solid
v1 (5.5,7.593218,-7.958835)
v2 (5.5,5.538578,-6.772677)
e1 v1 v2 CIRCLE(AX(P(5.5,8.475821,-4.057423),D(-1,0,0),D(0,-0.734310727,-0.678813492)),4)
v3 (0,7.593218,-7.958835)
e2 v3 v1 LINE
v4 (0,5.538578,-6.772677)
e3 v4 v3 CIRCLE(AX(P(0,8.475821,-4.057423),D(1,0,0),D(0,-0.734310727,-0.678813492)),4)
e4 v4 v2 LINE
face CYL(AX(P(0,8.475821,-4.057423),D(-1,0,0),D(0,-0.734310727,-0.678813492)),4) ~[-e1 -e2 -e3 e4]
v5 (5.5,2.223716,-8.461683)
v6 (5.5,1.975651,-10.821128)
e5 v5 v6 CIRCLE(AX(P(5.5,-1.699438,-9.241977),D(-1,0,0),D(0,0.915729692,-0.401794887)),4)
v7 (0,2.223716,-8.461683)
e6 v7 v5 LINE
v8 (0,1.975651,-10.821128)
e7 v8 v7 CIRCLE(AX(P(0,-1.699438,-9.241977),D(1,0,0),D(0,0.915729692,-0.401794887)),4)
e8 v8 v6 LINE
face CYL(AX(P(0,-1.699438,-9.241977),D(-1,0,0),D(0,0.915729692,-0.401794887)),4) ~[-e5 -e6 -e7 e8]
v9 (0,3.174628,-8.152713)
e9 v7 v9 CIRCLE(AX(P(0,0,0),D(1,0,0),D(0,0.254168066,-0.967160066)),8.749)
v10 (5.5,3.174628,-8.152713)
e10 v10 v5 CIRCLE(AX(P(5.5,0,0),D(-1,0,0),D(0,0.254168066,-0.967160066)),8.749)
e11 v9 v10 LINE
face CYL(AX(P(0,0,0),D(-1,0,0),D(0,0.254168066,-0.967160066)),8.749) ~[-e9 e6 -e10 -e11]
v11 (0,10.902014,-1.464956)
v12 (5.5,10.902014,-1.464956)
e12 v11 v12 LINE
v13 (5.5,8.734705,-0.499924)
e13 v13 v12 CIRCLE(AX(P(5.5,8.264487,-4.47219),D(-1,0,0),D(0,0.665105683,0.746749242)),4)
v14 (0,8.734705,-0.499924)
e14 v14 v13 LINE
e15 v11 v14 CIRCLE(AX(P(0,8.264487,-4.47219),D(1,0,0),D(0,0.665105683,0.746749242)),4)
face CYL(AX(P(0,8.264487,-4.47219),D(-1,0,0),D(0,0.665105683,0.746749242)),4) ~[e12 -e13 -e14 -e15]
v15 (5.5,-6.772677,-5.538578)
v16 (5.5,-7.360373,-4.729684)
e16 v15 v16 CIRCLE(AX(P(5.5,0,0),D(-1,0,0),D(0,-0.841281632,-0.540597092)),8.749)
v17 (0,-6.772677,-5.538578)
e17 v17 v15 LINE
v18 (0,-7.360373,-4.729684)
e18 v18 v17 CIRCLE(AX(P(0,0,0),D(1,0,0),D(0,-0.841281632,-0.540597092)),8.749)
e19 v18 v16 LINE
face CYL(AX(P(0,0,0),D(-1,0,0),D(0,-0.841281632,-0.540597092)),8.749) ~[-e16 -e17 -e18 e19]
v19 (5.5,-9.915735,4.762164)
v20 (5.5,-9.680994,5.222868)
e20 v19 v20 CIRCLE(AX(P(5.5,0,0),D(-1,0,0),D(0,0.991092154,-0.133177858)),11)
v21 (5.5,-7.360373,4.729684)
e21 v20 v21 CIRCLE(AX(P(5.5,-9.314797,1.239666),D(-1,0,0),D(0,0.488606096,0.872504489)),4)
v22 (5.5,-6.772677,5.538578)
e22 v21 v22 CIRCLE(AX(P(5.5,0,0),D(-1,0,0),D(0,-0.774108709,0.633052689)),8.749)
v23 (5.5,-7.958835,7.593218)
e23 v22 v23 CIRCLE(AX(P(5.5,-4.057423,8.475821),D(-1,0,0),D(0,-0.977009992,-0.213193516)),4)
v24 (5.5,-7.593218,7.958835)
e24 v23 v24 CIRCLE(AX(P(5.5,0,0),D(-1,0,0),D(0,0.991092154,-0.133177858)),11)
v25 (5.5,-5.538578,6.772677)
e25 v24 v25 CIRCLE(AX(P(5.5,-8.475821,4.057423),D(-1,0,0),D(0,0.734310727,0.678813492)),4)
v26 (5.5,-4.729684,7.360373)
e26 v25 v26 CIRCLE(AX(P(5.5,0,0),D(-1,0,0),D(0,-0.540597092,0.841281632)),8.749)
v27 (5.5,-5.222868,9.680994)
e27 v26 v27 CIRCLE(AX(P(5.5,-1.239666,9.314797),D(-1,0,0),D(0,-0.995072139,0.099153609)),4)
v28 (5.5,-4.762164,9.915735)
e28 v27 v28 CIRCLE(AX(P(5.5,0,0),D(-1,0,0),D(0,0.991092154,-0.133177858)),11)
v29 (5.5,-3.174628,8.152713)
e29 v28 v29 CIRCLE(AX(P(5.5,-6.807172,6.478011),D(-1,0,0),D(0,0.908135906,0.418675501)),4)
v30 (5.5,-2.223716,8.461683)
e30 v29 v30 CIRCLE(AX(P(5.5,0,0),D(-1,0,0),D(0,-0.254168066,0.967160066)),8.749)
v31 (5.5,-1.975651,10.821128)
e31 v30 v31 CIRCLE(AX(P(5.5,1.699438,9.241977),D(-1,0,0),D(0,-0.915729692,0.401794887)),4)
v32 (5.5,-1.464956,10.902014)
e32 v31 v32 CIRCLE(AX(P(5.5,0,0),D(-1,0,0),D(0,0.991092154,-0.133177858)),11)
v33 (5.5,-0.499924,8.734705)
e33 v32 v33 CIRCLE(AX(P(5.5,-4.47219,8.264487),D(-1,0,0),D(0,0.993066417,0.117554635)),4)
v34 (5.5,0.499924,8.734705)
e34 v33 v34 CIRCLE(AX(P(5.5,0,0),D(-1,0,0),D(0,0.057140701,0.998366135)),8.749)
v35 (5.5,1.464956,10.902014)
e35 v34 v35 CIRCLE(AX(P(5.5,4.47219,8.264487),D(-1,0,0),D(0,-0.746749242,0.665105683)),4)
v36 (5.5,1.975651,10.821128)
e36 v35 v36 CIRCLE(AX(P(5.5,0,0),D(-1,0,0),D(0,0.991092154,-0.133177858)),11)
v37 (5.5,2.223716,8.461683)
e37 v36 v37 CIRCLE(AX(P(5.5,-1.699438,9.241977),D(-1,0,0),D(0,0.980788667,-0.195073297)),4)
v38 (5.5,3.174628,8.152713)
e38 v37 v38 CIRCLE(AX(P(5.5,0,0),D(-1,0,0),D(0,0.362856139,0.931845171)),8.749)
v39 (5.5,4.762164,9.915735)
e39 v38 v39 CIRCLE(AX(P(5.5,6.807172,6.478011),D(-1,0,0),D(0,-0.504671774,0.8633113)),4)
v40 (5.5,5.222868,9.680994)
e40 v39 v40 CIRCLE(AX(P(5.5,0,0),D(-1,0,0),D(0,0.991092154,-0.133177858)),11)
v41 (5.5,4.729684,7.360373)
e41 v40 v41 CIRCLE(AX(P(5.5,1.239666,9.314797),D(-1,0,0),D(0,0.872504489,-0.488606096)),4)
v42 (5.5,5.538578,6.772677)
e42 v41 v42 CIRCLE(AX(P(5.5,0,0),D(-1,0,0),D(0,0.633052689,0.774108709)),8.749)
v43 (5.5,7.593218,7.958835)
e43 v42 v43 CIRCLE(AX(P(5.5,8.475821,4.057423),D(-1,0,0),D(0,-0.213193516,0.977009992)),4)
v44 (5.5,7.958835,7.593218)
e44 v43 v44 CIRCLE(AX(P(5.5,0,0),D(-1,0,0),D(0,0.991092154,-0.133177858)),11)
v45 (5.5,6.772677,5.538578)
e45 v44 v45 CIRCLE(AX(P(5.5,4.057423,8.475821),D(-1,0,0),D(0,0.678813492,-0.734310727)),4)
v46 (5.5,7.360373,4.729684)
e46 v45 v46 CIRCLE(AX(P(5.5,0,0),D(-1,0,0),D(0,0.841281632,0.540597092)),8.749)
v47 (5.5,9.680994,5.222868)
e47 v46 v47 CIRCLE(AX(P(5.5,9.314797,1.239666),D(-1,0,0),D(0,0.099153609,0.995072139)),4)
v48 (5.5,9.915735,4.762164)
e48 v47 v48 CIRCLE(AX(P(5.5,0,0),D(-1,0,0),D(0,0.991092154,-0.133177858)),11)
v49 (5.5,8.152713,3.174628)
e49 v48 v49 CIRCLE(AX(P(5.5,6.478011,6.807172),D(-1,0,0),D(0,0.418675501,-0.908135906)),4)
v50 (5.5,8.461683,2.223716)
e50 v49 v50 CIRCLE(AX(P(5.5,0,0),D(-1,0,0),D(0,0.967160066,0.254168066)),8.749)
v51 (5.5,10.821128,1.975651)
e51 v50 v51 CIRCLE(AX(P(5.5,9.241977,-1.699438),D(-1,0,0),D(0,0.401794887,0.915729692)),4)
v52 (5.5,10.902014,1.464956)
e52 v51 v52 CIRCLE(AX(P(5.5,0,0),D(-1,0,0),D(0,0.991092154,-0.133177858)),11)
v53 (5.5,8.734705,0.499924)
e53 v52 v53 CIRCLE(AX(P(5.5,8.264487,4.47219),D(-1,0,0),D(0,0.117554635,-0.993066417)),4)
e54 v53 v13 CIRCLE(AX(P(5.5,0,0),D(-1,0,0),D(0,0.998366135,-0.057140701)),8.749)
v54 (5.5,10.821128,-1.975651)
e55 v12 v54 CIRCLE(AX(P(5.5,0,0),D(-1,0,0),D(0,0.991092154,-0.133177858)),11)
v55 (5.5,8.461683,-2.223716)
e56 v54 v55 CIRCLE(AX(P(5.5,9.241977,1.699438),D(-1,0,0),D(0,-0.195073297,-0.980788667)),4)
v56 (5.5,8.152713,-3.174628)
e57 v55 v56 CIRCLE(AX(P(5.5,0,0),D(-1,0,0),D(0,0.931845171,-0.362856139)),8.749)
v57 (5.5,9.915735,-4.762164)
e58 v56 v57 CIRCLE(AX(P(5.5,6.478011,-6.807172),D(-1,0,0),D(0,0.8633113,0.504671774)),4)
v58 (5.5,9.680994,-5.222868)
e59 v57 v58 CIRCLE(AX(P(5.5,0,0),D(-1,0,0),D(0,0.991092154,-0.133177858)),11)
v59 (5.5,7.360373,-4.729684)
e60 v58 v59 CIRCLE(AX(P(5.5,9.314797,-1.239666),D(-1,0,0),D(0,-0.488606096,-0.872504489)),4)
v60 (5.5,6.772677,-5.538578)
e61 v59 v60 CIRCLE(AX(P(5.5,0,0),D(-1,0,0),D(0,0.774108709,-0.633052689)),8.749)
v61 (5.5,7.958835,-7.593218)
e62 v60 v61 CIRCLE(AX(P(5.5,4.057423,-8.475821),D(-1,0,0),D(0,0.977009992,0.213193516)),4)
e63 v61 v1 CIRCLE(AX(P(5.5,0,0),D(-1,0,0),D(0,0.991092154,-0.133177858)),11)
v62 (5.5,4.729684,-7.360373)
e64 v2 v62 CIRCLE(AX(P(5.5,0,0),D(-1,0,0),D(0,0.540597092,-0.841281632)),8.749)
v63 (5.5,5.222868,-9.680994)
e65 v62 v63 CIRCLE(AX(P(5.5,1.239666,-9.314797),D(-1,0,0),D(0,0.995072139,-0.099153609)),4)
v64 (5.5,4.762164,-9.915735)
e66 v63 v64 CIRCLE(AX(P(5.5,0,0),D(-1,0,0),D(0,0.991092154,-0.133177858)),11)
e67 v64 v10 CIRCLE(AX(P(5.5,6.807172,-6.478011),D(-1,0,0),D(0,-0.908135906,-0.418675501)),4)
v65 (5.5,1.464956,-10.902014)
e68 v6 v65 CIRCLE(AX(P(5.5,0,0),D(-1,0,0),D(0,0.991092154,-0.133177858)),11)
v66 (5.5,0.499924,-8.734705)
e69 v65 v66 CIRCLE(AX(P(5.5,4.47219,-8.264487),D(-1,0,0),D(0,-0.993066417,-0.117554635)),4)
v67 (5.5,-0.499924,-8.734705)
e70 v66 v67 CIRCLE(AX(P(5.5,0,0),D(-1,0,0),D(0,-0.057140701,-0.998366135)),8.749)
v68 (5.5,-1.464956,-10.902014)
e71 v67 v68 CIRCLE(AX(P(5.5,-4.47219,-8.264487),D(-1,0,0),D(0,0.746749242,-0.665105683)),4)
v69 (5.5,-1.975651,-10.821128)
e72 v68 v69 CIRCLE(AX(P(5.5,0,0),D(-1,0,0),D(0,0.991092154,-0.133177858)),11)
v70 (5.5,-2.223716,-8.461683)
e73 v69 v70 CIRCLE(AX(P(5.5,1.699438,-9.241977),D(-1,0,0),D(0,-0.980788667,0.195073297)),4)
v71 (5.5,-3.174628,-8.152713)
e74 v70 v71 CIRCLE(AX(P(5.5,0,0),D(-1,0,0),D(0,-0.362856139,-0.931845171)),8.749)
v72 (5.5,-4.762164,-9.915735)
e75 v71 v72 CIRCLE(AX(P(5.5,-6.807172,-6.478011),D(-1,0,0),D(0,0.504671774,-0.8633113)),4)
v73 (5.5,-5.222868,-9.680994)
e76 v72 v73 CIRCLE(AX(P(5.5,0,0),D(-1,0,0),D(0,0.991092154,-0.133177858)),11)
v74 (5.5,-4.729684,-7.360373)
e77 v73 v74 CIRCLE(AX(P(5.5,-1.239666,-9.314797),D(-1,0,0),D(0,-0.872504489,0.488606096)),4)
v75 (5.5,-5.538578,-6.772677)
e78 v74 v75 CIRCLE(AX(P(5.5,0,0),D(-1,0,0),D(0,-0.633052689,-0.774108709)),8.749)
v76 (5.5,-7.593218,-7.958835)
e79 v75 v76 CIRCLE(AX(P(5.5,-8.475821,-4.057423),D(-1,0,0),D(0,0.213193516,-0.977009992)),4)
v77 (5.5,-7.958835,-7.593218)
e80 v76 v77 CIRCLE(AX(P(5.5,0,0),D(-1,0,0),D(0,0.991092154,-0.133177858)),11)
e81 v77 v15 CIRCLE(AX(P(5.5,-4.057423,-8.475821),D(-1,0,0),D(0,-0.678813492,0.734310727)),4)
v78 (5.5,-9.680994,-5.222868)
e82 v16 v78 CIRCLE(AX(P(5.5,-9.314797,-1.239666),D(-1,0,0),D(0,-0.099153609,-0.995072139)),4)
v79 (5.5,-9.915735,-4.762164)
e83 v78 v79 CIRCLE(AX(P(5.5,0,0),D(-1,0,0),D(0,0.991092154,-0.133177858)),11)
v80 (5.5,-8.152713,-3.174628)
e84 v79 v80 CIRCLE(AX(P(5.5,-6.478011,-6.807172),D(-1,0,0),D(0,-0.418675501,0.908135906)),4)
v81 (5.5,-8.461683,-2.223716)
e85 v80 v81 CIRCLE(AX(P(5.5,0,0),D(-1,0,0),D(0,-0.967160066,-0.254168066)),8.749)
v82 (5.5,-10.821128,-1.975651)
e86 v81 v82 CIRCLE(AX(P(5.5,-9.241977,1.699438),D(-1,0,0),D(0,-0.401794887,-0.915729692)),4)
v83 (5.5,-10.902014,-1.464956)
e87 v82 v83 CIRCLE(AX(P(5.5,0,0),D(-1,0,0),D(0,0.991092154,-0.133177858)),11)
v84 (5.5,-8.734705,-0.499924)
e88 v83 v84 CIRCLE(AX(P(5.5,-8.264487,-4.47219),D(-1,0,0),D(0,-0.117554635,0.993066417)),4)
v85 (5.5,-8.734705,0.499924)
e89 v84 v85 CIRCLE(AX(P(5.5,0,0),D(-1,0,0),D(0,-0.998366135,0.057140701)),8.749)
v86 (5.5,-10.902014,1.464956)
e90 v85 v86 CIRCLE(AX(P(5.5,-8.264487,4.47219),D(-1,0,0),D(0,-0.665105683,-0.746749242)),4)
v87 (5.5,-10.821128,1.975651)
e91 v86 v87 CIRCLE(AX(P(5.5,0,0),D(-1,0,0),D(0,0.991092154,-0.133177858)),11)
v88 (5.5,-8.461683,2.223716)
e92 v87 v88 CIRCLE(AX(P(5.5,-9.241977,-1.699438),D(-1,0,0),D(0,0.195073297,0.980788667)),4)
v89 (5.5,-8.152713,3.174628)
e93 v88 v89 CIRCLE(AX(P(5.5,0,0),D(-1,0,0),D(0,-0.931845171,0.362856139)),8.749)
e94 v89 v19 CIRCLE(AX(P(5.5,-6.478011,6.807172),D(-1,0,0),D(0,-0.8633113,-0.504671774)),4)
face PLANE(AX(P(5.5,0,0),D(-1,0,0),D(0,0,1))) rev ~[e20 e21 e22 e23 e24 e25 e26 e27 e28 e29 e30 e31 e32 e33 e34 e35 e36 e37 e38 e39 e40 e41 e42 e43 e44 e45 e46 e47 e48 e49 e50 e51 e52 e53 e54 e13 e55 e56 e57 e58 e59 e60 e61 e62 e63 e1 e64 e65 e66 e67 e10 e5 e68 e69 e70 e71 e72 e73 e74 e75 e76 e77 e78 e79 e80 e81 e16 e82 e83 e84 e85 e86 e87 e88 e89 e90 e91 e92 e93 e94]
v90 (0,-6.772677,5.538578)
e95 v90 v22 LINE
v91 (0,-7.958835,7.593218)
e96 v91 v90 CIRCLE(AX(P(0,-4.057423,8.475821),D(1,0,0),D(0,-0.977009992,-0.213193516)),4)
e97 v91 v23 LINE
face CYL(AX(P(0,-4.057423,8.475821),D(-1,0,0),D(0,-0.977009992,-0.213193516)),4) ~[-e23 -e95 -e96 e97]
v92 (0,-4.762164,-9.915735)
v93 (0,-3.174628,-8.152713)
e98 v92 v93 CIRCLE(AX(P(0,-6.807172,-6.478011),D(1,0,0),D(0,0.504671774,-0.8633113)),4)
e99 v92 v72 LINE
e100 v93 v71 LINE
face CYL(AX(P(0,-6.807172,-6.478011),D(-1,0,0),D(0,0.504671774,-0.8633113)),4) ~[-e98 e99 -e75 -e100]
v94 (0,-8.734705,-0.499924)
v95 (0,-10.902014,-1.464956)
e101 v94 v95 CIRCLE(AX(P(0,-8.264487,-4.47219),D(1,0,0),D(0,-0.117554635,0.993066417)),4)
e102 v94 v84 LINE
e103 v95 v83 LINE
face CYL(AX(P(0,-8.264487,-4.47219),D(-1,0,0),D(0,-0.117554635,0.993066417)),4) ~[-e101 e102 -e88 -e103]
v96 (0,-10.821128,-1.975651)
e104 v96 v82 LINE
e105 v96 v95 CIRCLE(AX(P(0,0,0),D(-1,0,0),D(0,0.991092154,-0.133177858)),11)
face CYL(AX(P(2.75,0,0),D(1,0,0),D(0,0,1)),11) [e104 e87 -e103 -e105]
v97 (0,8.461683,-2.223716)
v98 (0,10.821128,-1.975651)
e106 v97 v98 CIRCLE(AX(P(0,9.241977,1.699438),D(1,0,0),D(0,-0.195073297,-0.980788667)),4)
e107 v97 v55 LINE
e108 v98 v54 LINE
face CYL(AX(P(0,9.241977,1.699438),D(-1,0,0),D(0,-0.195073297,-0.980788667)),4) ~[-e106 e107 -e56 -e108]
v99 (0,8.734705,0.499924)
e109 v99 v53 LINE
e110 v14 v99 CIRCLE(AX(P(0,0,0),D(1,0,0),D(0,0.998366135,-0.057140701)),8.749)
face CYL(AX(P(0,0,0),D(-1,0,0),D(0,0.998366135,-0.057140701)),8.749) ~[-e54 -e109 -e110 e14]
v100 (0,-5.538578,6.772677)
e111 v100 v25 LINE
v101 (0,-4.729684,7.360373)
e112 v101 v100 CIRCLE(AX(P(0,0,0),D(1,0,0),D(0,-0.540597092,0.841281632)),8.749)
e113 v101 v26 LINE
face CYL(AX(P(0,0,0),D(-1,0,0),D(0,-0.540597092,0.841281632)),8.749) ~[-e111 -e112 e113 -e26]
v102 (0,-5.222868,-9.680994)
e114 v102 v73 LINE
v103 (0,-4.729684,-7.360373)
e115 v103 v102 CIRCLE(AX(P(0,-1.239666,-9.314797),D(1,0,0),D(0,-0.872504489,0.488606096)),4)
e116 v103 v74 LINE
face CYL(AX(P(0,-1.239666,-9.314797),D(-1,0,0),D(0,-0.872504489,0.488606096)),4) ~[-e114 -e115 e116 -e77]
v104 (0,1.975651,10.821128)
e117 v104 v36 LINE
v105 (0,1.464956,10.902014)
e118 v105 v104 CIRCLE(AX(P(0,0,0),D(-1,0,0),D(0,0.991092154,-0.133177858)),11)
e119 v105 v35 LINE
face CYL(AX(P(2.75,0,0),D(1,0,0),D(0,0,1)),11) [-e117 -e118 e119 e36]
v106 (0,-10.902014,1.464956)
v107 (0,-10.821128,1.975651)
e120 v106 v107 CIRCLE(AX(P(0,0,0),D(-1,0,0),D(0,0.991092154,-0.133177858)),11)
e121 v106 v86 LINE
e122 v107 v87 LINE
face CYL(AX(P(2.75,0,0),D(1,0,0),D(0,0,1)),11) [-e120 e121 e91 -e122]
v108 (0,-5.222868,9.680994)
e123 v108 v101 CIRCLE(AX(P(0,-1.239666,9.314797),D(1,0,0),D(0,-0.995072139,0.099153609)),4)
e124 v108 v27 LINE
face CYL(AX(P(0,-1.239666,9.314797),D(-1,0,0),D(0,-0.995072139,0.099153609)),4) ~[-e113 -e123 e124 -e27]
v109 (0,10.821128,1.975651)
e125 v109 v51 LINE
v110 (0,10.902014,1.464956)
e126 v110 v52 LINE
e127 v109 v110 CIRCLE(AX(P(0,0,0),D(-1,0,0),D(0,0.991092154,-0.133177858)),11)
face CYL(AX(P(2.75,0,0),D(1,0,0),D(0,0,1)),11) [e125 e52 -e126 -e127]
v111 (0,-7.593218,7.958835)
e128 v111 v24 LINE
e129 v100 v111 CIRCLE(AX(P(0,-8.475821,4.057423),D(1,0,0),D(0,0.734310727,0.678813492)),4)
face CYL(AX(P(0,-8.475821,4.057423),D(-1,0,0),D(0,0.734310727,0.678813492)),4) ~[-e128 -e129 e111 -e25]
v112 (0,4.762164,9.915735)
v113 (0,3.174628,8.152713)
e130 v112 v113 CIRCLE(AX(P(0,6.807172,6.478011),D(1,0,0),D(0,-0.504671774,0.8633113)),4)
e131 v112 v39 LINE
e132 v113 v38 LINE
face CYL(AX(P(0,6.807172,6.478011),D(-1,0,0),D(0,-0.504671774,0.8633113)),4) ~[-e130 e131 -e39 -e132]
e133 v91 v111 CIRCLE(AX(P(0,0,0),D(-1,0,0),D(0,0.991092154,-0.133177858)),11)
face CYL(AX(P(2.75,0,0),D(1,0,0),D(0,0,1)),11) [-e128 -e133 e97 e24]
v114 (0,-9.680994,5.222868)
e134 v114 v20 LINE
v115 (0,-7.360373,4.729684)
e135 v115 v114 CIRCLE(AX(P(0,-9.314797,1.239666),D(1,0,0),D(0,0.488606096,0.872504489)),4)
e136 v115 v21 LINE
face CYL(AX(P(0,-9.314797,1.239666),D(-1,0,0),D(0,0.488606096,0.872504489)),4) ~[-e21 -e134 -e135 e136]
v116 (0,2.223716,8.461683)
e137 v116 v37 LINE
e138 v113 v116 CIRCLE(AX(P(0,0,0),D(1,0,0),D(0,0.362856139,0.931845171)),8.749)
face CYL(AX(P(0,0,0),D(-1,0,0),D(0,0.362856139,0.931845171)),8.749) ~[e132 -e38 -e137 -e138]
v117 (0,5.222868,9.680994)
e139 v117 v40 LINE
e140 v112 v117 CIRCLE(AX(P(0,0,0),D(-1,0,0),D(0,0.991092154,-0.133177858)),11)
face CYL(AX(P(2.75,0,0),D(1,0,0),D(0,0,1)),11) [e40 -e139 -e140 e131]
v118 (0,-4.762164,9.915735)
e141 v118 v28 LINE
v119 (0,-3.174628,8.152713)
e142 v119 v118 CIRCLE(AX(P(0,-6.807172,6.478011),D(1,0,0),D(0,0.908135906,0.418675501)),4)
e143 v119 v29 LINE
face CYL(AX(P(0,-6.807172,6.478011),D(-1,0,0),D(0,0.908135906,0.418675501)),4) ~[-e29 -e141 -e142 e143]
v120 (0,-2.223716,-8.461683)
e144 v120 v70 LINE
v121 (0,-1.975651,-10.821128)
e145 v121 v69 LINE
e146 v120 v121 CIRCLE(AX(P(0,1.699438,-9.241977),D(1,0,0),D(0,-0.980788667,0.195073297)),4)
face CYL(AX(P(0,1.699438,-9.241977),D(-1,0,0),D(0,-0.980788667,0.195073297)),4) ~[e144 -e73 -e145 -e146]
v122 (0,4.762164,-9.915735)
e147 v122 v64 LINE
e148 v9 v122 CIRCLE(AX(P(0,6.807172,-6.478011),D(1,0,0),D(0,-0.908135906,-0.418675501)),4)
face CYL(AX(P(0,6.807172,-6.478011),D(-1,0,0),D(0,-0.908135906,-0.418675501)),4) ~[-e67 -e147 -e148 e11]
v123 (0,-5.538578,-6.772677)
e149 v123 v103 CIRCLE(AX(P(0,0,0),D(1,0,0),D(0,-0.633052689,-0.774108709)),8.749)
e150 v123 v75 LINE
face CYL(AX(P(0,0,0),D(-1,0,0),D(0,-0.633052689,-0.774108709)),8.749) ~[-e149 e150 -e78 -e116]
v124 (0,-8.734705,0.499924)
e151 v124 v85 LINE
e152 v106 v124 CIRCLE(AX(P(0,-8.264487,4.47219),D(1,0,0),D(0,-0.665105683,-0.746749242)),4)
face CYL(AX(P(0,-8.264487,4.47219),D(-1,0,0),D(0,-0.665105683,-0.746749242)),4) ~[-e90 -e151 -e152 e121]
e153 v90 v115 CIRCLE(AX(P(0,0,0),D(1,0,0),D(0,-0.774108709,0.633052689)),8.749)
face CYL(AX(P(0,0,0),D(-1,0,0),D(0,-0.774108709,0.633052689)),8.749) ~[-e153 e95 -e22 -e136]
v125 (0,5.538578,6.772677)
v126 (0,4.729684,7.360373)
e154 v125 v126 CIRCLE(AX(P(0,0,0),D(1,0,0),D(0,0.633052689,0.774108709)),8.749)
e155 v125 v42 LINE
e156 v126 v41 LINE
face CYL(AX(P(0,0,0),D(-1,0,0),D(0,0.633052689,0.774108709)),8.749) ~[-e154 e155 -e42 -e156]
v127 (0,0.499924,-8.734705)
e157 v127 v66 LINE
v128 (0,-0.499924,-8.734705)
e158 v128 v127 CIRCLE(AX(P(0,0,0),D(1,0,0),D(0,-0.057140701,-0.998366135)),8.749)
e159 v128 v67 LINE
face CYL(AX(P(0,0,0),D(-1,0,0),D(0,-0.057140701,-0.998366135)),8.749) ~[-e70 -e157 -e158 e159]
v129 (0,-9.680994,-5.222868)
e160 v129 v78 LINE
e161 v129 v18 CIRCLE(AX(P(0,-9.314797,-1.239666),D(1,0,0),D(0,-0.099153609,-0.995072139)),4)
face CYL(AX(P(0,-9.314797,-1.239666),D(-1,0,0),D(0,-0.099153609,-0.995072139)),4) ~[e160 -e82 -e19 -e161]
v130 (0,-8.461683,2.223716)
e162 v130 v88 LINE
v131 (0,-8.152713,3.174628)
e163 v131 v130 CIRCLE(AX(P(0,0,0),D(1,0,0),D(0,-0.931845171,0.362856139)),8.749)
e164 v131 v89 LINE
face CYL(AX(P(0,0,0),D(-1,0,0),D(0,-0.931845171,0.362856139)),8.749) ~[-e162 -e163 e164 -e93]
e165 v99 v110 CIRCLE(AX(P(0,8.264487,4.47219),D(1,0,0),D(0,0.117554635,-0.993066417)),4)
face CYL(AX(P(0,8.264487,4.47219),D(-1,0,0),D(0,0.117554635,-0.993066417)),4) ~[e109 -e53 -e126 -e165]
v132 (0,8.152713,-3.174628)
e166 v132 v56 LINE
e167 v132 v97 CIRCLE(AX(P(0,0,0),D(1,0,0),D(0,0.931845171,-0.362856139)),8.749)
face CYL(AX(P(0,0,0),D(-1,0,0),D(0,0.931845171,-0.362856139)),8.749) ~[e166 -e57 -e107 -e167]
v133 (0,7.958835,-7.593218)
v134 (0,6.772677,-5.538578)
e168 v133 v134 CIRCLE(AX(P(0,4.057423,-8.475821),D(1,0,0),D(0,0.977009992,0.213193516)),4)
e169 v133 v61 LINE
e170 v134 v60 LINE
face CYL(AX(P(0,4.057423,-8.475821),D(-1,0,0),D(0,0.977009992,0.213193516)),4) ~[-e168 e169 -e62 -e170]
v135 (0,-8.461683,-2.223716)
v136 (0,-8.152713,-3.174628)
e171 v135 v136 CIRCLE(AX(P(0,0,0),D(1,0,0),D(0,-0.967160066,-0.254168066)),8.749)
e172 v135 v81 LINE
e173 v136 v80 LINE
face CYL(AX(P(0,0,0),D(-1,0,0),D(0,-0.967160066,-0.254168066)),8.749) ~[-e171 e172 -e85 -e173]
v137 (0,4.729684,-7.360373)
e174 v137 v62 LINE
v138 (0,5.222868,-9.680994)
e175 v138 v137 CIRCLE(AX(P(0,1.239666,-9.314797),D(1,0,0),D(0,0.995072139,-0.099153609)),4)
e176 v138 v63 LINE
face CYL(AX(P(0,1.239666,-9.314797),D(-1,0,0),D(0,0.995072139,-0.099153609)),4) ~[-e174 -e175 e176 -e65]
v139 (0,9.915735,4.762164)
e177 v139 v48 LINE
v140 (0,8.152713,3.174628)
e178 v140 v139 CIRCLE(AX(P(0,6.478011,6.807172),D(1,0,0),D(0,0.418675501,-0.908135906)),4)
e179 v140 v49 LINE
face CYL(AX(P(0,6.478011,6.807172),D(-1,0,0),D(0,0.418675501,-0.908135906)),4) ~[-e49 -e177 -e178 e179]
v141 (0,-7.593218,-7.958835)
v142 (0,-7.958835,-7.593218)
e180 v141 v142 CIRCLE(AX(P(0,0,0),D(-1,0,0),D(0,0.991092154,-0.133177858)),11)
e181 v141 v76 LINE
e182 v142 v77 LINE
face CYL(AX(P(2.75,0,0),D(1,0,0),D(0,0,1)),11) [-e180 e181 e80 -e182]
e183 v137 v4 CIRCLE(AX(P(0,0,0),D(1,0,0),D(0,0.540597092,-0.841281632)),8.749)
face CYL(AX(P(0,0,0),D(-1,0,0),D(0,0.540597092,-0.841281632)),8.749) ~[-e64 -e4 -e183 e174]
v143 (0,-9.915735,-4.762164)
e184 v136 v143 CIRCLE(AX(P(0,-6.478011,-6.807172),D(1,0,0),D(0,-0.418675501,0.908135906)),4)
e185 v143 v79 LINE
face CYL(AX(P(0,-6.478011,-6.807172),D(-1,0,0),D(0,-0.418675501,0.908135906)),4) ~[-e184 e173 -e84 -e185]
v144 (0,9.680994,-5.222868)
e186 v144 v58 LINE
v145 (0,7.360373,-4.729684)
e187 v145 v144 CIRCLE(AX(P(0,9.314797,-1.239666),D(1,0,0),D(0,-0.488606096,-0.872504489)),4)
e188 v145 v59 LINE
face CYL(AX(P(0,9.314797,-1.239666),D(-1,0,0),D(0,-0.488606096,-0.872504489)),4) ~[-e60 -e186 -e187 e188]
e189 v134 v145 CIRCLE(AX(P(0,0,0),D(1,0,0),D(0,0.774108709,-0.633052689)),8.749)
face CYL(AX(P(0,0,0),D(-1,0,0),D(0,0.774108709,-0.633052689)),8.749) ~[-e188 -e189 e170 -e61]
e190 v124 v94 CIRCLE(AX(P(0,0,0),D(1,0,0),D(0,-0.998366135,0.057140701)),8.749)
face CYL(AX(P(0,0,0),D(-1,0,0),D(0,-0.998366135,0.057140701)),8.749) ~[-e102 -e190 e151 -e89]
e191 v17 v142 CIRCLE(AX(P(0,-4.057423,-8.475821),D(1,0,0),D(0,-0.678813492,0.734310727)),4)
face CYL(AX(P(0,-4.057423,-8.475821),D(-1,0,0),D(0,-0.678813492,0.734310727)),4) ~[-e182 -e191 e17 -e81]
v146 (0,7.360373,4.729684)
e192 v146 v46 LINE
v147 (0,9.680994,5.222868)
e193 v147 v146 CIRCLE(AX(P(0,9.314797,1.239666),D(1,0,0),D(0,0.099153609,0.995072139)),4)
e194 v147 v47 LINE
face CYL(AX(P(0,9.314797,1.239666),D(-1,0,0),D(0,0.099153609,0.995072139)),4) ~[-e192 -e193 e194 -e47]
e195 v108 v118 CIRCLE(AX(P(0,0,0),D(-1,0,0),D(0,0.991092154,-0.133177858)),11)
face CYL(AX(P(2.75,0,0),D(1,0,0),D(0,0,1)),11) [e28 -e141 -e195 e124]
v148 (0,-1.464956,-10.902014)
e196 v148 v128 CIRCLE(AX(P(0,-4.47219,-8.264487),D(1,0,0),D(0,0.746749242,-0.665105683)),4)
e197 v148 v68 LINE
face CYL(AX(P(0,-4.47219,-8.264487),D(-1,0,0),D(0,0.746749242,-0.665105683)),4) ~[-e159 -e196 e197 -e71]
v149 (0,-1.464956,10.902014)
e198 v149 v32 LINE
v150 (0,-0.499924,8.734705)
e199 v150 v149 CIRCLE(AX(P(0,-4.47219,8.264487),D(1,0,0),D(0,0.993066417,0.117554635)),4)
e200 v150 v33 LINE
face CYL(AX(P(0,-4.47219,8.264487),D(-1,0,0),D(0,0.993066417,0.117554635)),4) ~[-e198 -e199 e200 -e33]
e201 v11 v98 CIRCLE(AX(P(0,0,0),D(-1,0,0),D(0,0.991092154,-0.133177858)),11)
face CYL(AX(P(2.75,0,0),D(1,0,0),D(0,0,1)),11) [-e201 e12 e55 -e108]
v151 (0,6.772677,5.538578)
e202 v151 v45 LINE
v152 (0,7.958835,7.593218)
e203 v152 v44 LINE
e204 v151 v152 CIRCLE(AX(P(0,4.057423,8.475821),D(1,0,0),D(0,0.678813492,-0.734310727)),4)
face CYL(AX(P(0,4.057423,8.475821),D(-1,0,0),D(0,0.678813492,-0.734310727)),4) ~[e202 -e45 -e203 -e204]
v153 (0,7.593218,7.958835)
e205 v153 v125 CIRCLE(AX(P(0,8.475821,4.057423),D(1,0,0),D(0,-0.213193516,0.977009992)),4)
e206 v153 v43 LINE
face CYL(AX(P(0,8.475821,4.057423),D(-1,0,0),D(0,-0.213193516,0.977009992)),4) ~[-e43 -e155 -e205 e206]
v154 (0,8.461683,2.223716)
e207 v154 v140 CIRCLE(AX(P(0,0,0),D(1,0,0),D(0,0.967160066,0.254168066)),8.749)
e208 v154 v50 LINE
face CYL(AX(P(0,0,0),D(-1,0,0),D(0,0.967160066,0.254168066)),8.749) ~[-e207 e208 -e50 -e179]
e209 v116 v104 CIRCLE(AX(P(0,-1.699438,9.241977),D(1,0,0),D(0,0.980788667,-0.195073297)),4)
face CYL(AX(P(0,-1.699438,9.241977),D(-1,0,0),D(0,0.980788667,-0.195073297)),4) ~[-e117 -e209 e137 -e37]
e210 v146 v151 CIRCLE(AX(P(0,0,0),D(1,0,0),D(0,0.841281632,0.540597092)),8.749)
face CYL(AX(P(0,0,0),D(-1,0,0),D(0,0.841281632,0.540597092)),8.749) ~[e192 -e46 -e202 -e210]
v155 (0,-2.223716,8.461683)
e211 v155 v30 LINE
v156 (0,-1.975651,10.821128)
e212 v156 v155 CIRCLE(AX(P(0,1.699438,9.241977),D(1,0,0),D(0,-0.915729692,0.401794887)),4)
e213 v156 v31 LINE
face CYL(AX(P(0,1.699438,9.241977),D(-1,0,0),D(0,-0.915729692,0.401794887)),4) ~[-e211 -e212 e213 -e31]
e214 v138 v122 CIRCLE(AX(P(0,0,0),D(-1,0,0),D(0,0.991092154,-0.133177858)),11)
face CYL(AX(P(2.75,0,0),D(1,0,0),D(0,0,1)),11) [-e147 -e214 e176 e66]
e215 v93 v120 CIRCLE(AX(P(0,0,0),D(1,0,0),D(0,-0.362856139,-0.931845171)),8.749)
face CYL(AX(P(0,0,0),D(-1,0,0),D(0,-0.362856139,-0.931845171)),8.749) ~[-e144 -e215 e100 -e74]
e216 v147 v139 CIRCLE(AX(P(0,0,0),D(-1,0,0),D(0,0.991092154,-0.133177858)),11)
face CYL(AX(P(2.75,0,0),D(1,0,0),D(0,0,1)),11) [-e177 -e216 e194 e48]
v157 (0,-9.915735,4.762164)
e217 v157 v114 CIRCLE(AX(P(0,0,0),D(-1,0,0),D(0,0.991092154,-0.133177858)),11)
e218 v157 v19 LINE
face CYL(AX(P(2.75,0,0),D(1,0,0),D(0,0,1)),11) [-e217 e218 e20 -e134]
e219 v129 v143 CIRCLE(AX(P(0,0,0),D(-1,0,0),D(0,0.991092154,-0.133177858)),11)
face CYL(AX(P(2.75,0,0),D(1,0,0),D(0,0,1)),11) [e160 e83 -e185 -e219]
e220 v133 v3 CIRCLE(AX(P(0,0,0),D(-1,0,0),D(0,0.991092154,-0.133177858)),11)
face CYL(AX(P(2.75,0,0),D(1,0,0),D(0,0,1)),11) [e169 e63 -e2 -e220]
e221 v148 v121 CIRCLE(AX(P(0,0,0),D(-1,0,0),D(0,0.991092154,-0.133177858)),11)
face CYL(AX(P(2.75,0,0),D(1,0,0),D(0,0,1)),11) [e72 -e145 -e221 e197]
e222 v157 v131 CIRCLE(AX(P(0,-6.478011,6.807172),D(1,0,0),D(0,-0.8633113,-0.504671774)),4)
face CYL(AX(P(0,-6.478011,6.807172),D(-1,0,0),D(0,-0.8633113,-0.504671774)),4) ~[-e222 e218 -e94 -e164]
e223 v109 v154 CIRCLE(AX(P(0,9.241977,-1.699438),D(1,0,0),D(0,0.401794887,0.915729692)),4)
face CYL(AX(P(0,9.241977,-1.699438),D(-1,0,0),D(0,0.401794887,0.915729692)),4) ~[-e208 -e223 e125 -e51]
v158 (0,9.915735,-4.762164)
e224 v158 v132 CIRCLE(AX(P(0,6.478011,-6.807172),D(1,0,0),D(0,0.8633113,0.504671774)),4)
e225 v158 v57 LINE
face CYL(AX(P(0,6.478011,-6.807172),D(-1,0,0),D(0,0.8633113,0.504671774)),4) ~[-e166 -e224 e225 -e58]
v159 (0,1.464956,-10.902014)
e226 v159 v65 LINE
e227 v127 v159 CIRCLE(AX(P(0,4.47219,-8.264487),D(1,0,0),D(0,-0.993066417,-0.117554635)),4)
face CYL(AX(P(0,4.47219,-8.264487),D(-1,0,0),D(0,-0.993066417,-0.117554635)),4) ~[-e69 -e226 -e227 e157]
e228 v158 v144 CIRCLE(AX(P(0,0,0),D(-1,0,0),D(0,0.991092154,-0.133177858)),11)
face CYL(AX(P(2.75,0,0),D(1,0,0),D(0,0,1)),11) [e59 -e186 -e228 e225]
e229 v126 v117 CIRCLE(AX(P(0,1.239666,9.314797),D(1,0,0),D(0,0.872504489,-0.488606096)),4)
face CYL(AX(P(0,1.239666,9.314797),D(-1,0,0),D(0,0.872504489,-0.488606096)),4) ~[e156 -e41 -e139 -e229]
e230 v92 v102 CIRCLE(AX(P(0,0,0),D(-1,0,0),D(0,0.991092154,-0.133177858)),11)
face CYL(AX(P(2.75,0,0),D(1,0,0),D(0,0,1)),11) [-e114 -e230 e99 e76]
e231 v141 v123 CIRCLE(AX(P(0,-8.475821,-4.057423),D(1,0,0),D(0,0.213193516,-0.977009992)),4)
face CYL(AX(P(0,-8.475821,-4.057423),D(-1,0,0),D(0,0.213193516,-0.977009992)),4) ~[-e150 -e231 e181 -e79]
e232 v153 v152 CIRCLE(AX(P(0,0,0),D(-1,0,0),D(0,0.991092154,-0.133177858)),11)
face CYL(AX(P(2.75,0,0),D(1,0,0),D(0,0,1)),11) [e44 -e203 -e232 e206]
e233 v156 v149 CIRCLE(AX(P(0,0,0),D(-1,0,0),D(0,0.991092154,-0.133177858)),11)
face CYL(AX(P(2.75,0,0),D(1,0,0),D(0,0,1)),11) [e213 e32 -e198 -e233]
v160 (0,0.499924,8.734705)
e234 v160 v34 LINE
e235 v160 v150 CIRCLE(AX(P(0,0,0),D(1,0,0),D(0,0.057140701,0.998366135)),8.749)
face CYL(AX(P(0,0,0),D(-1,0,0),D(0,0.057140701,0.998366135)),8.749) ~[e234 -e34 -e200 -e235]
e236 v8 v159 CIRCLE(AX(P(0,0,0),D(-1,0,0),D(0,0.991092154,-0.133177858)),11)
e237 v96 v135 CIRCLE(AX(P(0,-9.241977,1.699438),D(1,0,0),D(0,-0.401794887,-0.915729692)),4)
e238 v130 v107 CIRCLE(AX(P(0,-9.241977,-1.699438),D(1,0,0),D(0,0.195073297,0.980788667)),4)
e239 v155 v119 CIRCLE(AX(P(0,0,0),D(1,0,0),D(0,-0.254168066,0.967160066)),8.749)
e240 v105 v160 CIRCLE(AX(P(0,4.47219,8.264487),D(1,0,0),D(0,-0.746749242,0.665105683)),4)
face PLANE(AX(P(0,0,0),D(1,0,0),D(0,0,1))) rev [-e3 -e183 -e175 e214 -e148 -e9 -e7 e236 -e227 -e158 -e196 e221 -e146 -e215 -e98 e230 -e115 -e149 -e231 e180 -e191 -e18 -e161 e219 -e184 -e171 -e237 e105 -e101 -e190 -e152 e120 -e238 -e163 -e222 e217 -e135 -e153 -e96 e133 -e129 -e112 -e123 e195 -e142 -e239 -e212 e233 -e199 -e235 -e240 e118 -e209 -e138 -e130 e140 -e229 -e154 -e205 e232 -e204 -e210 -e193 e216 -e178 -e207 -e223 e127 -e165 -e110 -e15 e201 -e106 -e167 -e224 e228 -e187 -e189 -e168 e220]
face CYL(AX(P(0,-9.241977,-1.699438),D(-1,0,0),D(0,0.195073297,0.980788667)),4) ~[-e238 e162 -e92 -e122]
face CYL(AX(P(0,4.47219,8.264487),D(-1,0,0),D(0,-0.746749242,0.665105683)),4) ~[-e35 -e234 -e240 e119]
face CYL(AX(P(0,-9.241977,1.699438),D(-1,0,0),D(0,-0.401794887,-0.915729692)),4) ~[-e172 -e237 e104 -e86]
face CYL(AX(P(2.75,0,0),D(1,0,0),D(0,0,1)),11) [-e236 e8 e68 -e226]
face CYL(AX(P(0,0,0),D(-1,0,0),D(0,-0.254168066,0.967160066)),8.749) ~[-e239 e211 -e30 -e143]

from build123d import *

# Parameters (mm, degrees)
BASPROSKE_W     = 5.5
BASPROSKE_H     = 11
TOOTHCUT_DEPTH  = 17.5
TEETHCUTS_COUNT = 20
TEETHCUTS_ANGLE = 342
BORSKE_R        = 3
BORE_DEPTH      = 50.0000508
EXTRUDE_START   = -5.5
SKETCH_1_R      = 3
EXTRUDE_1_DEPTH = 5.5


with BuildPart() as part:
    # BasProSke → Base-Revolve (revolve)
    with BuildSketch(Plane(origin=(0, 0, 0), x_dir=(1, 0, 0), z_dir=(0, 1, 0)), mode=Mode.PRIVATE) as base_revolve_sk:
        with Locations((2.75, 5.5)):
            Rectangle(BASPROSKE_W, BASPROSKE_H)
    revolve(base_revolve_sk.sketch.rotate(Axis((-10, 0, 0), (1, 0, 0)), 180), axis=Axis((-10, 0, 0), (1, 0, 0)))

    # TooCutSke → ToothCut (cut, through all)
    with BuildSketch(Plane(origin=(0, 0, 0), x_dir=(0, 0, -1), z_dir=(1, 0, 0))):
        with BuildLine():
            ThreePointArc((0.499924007, 8.734705318), (0, 8.749), (-0.499924007, 8.734705318))
            ThreePointArc((-0.499924007, 8.734705318), (-0.824302243, 9.905497836), (-1.485192705, 10.924909509))
            ThreePointArc((-1.485192705, 10.924909509), (0, 11.0254), (1.485192705, 10.924909509))
            ThreePointArc((1.485192705, 10.924909509), (0.824302243, 9.905497836), (0.499924007, 8.734705318))
        make_face()
    toothcut = extrude(amount=TOOTHCUT_DEPTH, mode=Mode.SUBTRACT)

    # TeethCuts: ToothCut ×20 about axis
    teethcuts_axis = Axis((-10, 0, 0), (1, 0, 0))
    for i in range(1, TEETHCUTS_COUNT):
        add(toothcut.rotate(teethcuts_axis, i * TEETHCUTS_ANGLE / (TEETHCUTS_COUNT - 1)), mode=Mode.SUBTRACT)

    # BorSke → Bore (cut, symmetric)
    with BuildSketch(Plane(origin=(0, 0, 0), x_dir=(0, 0, -1), z_dir=(1, 0, 0))):
        with Locations(Location((0, 0, 0), (0, 0, 180))):
            Circle(BORSKE_R)
    extrude(amount=BORE_DEPTH, both=True, mode=Mode.SUBTRACT)

    # ｽｹｯﾁ1 → ﾎﾞｽ - 押し出し1 (add)
    with BuildSketch(Plane.ZY.offset(EXTRUDE_START)):
        Circle(SKETCH_1_R)
    extrude(amount=EXTRUDE_1_DEPTH)


solid = part.part
